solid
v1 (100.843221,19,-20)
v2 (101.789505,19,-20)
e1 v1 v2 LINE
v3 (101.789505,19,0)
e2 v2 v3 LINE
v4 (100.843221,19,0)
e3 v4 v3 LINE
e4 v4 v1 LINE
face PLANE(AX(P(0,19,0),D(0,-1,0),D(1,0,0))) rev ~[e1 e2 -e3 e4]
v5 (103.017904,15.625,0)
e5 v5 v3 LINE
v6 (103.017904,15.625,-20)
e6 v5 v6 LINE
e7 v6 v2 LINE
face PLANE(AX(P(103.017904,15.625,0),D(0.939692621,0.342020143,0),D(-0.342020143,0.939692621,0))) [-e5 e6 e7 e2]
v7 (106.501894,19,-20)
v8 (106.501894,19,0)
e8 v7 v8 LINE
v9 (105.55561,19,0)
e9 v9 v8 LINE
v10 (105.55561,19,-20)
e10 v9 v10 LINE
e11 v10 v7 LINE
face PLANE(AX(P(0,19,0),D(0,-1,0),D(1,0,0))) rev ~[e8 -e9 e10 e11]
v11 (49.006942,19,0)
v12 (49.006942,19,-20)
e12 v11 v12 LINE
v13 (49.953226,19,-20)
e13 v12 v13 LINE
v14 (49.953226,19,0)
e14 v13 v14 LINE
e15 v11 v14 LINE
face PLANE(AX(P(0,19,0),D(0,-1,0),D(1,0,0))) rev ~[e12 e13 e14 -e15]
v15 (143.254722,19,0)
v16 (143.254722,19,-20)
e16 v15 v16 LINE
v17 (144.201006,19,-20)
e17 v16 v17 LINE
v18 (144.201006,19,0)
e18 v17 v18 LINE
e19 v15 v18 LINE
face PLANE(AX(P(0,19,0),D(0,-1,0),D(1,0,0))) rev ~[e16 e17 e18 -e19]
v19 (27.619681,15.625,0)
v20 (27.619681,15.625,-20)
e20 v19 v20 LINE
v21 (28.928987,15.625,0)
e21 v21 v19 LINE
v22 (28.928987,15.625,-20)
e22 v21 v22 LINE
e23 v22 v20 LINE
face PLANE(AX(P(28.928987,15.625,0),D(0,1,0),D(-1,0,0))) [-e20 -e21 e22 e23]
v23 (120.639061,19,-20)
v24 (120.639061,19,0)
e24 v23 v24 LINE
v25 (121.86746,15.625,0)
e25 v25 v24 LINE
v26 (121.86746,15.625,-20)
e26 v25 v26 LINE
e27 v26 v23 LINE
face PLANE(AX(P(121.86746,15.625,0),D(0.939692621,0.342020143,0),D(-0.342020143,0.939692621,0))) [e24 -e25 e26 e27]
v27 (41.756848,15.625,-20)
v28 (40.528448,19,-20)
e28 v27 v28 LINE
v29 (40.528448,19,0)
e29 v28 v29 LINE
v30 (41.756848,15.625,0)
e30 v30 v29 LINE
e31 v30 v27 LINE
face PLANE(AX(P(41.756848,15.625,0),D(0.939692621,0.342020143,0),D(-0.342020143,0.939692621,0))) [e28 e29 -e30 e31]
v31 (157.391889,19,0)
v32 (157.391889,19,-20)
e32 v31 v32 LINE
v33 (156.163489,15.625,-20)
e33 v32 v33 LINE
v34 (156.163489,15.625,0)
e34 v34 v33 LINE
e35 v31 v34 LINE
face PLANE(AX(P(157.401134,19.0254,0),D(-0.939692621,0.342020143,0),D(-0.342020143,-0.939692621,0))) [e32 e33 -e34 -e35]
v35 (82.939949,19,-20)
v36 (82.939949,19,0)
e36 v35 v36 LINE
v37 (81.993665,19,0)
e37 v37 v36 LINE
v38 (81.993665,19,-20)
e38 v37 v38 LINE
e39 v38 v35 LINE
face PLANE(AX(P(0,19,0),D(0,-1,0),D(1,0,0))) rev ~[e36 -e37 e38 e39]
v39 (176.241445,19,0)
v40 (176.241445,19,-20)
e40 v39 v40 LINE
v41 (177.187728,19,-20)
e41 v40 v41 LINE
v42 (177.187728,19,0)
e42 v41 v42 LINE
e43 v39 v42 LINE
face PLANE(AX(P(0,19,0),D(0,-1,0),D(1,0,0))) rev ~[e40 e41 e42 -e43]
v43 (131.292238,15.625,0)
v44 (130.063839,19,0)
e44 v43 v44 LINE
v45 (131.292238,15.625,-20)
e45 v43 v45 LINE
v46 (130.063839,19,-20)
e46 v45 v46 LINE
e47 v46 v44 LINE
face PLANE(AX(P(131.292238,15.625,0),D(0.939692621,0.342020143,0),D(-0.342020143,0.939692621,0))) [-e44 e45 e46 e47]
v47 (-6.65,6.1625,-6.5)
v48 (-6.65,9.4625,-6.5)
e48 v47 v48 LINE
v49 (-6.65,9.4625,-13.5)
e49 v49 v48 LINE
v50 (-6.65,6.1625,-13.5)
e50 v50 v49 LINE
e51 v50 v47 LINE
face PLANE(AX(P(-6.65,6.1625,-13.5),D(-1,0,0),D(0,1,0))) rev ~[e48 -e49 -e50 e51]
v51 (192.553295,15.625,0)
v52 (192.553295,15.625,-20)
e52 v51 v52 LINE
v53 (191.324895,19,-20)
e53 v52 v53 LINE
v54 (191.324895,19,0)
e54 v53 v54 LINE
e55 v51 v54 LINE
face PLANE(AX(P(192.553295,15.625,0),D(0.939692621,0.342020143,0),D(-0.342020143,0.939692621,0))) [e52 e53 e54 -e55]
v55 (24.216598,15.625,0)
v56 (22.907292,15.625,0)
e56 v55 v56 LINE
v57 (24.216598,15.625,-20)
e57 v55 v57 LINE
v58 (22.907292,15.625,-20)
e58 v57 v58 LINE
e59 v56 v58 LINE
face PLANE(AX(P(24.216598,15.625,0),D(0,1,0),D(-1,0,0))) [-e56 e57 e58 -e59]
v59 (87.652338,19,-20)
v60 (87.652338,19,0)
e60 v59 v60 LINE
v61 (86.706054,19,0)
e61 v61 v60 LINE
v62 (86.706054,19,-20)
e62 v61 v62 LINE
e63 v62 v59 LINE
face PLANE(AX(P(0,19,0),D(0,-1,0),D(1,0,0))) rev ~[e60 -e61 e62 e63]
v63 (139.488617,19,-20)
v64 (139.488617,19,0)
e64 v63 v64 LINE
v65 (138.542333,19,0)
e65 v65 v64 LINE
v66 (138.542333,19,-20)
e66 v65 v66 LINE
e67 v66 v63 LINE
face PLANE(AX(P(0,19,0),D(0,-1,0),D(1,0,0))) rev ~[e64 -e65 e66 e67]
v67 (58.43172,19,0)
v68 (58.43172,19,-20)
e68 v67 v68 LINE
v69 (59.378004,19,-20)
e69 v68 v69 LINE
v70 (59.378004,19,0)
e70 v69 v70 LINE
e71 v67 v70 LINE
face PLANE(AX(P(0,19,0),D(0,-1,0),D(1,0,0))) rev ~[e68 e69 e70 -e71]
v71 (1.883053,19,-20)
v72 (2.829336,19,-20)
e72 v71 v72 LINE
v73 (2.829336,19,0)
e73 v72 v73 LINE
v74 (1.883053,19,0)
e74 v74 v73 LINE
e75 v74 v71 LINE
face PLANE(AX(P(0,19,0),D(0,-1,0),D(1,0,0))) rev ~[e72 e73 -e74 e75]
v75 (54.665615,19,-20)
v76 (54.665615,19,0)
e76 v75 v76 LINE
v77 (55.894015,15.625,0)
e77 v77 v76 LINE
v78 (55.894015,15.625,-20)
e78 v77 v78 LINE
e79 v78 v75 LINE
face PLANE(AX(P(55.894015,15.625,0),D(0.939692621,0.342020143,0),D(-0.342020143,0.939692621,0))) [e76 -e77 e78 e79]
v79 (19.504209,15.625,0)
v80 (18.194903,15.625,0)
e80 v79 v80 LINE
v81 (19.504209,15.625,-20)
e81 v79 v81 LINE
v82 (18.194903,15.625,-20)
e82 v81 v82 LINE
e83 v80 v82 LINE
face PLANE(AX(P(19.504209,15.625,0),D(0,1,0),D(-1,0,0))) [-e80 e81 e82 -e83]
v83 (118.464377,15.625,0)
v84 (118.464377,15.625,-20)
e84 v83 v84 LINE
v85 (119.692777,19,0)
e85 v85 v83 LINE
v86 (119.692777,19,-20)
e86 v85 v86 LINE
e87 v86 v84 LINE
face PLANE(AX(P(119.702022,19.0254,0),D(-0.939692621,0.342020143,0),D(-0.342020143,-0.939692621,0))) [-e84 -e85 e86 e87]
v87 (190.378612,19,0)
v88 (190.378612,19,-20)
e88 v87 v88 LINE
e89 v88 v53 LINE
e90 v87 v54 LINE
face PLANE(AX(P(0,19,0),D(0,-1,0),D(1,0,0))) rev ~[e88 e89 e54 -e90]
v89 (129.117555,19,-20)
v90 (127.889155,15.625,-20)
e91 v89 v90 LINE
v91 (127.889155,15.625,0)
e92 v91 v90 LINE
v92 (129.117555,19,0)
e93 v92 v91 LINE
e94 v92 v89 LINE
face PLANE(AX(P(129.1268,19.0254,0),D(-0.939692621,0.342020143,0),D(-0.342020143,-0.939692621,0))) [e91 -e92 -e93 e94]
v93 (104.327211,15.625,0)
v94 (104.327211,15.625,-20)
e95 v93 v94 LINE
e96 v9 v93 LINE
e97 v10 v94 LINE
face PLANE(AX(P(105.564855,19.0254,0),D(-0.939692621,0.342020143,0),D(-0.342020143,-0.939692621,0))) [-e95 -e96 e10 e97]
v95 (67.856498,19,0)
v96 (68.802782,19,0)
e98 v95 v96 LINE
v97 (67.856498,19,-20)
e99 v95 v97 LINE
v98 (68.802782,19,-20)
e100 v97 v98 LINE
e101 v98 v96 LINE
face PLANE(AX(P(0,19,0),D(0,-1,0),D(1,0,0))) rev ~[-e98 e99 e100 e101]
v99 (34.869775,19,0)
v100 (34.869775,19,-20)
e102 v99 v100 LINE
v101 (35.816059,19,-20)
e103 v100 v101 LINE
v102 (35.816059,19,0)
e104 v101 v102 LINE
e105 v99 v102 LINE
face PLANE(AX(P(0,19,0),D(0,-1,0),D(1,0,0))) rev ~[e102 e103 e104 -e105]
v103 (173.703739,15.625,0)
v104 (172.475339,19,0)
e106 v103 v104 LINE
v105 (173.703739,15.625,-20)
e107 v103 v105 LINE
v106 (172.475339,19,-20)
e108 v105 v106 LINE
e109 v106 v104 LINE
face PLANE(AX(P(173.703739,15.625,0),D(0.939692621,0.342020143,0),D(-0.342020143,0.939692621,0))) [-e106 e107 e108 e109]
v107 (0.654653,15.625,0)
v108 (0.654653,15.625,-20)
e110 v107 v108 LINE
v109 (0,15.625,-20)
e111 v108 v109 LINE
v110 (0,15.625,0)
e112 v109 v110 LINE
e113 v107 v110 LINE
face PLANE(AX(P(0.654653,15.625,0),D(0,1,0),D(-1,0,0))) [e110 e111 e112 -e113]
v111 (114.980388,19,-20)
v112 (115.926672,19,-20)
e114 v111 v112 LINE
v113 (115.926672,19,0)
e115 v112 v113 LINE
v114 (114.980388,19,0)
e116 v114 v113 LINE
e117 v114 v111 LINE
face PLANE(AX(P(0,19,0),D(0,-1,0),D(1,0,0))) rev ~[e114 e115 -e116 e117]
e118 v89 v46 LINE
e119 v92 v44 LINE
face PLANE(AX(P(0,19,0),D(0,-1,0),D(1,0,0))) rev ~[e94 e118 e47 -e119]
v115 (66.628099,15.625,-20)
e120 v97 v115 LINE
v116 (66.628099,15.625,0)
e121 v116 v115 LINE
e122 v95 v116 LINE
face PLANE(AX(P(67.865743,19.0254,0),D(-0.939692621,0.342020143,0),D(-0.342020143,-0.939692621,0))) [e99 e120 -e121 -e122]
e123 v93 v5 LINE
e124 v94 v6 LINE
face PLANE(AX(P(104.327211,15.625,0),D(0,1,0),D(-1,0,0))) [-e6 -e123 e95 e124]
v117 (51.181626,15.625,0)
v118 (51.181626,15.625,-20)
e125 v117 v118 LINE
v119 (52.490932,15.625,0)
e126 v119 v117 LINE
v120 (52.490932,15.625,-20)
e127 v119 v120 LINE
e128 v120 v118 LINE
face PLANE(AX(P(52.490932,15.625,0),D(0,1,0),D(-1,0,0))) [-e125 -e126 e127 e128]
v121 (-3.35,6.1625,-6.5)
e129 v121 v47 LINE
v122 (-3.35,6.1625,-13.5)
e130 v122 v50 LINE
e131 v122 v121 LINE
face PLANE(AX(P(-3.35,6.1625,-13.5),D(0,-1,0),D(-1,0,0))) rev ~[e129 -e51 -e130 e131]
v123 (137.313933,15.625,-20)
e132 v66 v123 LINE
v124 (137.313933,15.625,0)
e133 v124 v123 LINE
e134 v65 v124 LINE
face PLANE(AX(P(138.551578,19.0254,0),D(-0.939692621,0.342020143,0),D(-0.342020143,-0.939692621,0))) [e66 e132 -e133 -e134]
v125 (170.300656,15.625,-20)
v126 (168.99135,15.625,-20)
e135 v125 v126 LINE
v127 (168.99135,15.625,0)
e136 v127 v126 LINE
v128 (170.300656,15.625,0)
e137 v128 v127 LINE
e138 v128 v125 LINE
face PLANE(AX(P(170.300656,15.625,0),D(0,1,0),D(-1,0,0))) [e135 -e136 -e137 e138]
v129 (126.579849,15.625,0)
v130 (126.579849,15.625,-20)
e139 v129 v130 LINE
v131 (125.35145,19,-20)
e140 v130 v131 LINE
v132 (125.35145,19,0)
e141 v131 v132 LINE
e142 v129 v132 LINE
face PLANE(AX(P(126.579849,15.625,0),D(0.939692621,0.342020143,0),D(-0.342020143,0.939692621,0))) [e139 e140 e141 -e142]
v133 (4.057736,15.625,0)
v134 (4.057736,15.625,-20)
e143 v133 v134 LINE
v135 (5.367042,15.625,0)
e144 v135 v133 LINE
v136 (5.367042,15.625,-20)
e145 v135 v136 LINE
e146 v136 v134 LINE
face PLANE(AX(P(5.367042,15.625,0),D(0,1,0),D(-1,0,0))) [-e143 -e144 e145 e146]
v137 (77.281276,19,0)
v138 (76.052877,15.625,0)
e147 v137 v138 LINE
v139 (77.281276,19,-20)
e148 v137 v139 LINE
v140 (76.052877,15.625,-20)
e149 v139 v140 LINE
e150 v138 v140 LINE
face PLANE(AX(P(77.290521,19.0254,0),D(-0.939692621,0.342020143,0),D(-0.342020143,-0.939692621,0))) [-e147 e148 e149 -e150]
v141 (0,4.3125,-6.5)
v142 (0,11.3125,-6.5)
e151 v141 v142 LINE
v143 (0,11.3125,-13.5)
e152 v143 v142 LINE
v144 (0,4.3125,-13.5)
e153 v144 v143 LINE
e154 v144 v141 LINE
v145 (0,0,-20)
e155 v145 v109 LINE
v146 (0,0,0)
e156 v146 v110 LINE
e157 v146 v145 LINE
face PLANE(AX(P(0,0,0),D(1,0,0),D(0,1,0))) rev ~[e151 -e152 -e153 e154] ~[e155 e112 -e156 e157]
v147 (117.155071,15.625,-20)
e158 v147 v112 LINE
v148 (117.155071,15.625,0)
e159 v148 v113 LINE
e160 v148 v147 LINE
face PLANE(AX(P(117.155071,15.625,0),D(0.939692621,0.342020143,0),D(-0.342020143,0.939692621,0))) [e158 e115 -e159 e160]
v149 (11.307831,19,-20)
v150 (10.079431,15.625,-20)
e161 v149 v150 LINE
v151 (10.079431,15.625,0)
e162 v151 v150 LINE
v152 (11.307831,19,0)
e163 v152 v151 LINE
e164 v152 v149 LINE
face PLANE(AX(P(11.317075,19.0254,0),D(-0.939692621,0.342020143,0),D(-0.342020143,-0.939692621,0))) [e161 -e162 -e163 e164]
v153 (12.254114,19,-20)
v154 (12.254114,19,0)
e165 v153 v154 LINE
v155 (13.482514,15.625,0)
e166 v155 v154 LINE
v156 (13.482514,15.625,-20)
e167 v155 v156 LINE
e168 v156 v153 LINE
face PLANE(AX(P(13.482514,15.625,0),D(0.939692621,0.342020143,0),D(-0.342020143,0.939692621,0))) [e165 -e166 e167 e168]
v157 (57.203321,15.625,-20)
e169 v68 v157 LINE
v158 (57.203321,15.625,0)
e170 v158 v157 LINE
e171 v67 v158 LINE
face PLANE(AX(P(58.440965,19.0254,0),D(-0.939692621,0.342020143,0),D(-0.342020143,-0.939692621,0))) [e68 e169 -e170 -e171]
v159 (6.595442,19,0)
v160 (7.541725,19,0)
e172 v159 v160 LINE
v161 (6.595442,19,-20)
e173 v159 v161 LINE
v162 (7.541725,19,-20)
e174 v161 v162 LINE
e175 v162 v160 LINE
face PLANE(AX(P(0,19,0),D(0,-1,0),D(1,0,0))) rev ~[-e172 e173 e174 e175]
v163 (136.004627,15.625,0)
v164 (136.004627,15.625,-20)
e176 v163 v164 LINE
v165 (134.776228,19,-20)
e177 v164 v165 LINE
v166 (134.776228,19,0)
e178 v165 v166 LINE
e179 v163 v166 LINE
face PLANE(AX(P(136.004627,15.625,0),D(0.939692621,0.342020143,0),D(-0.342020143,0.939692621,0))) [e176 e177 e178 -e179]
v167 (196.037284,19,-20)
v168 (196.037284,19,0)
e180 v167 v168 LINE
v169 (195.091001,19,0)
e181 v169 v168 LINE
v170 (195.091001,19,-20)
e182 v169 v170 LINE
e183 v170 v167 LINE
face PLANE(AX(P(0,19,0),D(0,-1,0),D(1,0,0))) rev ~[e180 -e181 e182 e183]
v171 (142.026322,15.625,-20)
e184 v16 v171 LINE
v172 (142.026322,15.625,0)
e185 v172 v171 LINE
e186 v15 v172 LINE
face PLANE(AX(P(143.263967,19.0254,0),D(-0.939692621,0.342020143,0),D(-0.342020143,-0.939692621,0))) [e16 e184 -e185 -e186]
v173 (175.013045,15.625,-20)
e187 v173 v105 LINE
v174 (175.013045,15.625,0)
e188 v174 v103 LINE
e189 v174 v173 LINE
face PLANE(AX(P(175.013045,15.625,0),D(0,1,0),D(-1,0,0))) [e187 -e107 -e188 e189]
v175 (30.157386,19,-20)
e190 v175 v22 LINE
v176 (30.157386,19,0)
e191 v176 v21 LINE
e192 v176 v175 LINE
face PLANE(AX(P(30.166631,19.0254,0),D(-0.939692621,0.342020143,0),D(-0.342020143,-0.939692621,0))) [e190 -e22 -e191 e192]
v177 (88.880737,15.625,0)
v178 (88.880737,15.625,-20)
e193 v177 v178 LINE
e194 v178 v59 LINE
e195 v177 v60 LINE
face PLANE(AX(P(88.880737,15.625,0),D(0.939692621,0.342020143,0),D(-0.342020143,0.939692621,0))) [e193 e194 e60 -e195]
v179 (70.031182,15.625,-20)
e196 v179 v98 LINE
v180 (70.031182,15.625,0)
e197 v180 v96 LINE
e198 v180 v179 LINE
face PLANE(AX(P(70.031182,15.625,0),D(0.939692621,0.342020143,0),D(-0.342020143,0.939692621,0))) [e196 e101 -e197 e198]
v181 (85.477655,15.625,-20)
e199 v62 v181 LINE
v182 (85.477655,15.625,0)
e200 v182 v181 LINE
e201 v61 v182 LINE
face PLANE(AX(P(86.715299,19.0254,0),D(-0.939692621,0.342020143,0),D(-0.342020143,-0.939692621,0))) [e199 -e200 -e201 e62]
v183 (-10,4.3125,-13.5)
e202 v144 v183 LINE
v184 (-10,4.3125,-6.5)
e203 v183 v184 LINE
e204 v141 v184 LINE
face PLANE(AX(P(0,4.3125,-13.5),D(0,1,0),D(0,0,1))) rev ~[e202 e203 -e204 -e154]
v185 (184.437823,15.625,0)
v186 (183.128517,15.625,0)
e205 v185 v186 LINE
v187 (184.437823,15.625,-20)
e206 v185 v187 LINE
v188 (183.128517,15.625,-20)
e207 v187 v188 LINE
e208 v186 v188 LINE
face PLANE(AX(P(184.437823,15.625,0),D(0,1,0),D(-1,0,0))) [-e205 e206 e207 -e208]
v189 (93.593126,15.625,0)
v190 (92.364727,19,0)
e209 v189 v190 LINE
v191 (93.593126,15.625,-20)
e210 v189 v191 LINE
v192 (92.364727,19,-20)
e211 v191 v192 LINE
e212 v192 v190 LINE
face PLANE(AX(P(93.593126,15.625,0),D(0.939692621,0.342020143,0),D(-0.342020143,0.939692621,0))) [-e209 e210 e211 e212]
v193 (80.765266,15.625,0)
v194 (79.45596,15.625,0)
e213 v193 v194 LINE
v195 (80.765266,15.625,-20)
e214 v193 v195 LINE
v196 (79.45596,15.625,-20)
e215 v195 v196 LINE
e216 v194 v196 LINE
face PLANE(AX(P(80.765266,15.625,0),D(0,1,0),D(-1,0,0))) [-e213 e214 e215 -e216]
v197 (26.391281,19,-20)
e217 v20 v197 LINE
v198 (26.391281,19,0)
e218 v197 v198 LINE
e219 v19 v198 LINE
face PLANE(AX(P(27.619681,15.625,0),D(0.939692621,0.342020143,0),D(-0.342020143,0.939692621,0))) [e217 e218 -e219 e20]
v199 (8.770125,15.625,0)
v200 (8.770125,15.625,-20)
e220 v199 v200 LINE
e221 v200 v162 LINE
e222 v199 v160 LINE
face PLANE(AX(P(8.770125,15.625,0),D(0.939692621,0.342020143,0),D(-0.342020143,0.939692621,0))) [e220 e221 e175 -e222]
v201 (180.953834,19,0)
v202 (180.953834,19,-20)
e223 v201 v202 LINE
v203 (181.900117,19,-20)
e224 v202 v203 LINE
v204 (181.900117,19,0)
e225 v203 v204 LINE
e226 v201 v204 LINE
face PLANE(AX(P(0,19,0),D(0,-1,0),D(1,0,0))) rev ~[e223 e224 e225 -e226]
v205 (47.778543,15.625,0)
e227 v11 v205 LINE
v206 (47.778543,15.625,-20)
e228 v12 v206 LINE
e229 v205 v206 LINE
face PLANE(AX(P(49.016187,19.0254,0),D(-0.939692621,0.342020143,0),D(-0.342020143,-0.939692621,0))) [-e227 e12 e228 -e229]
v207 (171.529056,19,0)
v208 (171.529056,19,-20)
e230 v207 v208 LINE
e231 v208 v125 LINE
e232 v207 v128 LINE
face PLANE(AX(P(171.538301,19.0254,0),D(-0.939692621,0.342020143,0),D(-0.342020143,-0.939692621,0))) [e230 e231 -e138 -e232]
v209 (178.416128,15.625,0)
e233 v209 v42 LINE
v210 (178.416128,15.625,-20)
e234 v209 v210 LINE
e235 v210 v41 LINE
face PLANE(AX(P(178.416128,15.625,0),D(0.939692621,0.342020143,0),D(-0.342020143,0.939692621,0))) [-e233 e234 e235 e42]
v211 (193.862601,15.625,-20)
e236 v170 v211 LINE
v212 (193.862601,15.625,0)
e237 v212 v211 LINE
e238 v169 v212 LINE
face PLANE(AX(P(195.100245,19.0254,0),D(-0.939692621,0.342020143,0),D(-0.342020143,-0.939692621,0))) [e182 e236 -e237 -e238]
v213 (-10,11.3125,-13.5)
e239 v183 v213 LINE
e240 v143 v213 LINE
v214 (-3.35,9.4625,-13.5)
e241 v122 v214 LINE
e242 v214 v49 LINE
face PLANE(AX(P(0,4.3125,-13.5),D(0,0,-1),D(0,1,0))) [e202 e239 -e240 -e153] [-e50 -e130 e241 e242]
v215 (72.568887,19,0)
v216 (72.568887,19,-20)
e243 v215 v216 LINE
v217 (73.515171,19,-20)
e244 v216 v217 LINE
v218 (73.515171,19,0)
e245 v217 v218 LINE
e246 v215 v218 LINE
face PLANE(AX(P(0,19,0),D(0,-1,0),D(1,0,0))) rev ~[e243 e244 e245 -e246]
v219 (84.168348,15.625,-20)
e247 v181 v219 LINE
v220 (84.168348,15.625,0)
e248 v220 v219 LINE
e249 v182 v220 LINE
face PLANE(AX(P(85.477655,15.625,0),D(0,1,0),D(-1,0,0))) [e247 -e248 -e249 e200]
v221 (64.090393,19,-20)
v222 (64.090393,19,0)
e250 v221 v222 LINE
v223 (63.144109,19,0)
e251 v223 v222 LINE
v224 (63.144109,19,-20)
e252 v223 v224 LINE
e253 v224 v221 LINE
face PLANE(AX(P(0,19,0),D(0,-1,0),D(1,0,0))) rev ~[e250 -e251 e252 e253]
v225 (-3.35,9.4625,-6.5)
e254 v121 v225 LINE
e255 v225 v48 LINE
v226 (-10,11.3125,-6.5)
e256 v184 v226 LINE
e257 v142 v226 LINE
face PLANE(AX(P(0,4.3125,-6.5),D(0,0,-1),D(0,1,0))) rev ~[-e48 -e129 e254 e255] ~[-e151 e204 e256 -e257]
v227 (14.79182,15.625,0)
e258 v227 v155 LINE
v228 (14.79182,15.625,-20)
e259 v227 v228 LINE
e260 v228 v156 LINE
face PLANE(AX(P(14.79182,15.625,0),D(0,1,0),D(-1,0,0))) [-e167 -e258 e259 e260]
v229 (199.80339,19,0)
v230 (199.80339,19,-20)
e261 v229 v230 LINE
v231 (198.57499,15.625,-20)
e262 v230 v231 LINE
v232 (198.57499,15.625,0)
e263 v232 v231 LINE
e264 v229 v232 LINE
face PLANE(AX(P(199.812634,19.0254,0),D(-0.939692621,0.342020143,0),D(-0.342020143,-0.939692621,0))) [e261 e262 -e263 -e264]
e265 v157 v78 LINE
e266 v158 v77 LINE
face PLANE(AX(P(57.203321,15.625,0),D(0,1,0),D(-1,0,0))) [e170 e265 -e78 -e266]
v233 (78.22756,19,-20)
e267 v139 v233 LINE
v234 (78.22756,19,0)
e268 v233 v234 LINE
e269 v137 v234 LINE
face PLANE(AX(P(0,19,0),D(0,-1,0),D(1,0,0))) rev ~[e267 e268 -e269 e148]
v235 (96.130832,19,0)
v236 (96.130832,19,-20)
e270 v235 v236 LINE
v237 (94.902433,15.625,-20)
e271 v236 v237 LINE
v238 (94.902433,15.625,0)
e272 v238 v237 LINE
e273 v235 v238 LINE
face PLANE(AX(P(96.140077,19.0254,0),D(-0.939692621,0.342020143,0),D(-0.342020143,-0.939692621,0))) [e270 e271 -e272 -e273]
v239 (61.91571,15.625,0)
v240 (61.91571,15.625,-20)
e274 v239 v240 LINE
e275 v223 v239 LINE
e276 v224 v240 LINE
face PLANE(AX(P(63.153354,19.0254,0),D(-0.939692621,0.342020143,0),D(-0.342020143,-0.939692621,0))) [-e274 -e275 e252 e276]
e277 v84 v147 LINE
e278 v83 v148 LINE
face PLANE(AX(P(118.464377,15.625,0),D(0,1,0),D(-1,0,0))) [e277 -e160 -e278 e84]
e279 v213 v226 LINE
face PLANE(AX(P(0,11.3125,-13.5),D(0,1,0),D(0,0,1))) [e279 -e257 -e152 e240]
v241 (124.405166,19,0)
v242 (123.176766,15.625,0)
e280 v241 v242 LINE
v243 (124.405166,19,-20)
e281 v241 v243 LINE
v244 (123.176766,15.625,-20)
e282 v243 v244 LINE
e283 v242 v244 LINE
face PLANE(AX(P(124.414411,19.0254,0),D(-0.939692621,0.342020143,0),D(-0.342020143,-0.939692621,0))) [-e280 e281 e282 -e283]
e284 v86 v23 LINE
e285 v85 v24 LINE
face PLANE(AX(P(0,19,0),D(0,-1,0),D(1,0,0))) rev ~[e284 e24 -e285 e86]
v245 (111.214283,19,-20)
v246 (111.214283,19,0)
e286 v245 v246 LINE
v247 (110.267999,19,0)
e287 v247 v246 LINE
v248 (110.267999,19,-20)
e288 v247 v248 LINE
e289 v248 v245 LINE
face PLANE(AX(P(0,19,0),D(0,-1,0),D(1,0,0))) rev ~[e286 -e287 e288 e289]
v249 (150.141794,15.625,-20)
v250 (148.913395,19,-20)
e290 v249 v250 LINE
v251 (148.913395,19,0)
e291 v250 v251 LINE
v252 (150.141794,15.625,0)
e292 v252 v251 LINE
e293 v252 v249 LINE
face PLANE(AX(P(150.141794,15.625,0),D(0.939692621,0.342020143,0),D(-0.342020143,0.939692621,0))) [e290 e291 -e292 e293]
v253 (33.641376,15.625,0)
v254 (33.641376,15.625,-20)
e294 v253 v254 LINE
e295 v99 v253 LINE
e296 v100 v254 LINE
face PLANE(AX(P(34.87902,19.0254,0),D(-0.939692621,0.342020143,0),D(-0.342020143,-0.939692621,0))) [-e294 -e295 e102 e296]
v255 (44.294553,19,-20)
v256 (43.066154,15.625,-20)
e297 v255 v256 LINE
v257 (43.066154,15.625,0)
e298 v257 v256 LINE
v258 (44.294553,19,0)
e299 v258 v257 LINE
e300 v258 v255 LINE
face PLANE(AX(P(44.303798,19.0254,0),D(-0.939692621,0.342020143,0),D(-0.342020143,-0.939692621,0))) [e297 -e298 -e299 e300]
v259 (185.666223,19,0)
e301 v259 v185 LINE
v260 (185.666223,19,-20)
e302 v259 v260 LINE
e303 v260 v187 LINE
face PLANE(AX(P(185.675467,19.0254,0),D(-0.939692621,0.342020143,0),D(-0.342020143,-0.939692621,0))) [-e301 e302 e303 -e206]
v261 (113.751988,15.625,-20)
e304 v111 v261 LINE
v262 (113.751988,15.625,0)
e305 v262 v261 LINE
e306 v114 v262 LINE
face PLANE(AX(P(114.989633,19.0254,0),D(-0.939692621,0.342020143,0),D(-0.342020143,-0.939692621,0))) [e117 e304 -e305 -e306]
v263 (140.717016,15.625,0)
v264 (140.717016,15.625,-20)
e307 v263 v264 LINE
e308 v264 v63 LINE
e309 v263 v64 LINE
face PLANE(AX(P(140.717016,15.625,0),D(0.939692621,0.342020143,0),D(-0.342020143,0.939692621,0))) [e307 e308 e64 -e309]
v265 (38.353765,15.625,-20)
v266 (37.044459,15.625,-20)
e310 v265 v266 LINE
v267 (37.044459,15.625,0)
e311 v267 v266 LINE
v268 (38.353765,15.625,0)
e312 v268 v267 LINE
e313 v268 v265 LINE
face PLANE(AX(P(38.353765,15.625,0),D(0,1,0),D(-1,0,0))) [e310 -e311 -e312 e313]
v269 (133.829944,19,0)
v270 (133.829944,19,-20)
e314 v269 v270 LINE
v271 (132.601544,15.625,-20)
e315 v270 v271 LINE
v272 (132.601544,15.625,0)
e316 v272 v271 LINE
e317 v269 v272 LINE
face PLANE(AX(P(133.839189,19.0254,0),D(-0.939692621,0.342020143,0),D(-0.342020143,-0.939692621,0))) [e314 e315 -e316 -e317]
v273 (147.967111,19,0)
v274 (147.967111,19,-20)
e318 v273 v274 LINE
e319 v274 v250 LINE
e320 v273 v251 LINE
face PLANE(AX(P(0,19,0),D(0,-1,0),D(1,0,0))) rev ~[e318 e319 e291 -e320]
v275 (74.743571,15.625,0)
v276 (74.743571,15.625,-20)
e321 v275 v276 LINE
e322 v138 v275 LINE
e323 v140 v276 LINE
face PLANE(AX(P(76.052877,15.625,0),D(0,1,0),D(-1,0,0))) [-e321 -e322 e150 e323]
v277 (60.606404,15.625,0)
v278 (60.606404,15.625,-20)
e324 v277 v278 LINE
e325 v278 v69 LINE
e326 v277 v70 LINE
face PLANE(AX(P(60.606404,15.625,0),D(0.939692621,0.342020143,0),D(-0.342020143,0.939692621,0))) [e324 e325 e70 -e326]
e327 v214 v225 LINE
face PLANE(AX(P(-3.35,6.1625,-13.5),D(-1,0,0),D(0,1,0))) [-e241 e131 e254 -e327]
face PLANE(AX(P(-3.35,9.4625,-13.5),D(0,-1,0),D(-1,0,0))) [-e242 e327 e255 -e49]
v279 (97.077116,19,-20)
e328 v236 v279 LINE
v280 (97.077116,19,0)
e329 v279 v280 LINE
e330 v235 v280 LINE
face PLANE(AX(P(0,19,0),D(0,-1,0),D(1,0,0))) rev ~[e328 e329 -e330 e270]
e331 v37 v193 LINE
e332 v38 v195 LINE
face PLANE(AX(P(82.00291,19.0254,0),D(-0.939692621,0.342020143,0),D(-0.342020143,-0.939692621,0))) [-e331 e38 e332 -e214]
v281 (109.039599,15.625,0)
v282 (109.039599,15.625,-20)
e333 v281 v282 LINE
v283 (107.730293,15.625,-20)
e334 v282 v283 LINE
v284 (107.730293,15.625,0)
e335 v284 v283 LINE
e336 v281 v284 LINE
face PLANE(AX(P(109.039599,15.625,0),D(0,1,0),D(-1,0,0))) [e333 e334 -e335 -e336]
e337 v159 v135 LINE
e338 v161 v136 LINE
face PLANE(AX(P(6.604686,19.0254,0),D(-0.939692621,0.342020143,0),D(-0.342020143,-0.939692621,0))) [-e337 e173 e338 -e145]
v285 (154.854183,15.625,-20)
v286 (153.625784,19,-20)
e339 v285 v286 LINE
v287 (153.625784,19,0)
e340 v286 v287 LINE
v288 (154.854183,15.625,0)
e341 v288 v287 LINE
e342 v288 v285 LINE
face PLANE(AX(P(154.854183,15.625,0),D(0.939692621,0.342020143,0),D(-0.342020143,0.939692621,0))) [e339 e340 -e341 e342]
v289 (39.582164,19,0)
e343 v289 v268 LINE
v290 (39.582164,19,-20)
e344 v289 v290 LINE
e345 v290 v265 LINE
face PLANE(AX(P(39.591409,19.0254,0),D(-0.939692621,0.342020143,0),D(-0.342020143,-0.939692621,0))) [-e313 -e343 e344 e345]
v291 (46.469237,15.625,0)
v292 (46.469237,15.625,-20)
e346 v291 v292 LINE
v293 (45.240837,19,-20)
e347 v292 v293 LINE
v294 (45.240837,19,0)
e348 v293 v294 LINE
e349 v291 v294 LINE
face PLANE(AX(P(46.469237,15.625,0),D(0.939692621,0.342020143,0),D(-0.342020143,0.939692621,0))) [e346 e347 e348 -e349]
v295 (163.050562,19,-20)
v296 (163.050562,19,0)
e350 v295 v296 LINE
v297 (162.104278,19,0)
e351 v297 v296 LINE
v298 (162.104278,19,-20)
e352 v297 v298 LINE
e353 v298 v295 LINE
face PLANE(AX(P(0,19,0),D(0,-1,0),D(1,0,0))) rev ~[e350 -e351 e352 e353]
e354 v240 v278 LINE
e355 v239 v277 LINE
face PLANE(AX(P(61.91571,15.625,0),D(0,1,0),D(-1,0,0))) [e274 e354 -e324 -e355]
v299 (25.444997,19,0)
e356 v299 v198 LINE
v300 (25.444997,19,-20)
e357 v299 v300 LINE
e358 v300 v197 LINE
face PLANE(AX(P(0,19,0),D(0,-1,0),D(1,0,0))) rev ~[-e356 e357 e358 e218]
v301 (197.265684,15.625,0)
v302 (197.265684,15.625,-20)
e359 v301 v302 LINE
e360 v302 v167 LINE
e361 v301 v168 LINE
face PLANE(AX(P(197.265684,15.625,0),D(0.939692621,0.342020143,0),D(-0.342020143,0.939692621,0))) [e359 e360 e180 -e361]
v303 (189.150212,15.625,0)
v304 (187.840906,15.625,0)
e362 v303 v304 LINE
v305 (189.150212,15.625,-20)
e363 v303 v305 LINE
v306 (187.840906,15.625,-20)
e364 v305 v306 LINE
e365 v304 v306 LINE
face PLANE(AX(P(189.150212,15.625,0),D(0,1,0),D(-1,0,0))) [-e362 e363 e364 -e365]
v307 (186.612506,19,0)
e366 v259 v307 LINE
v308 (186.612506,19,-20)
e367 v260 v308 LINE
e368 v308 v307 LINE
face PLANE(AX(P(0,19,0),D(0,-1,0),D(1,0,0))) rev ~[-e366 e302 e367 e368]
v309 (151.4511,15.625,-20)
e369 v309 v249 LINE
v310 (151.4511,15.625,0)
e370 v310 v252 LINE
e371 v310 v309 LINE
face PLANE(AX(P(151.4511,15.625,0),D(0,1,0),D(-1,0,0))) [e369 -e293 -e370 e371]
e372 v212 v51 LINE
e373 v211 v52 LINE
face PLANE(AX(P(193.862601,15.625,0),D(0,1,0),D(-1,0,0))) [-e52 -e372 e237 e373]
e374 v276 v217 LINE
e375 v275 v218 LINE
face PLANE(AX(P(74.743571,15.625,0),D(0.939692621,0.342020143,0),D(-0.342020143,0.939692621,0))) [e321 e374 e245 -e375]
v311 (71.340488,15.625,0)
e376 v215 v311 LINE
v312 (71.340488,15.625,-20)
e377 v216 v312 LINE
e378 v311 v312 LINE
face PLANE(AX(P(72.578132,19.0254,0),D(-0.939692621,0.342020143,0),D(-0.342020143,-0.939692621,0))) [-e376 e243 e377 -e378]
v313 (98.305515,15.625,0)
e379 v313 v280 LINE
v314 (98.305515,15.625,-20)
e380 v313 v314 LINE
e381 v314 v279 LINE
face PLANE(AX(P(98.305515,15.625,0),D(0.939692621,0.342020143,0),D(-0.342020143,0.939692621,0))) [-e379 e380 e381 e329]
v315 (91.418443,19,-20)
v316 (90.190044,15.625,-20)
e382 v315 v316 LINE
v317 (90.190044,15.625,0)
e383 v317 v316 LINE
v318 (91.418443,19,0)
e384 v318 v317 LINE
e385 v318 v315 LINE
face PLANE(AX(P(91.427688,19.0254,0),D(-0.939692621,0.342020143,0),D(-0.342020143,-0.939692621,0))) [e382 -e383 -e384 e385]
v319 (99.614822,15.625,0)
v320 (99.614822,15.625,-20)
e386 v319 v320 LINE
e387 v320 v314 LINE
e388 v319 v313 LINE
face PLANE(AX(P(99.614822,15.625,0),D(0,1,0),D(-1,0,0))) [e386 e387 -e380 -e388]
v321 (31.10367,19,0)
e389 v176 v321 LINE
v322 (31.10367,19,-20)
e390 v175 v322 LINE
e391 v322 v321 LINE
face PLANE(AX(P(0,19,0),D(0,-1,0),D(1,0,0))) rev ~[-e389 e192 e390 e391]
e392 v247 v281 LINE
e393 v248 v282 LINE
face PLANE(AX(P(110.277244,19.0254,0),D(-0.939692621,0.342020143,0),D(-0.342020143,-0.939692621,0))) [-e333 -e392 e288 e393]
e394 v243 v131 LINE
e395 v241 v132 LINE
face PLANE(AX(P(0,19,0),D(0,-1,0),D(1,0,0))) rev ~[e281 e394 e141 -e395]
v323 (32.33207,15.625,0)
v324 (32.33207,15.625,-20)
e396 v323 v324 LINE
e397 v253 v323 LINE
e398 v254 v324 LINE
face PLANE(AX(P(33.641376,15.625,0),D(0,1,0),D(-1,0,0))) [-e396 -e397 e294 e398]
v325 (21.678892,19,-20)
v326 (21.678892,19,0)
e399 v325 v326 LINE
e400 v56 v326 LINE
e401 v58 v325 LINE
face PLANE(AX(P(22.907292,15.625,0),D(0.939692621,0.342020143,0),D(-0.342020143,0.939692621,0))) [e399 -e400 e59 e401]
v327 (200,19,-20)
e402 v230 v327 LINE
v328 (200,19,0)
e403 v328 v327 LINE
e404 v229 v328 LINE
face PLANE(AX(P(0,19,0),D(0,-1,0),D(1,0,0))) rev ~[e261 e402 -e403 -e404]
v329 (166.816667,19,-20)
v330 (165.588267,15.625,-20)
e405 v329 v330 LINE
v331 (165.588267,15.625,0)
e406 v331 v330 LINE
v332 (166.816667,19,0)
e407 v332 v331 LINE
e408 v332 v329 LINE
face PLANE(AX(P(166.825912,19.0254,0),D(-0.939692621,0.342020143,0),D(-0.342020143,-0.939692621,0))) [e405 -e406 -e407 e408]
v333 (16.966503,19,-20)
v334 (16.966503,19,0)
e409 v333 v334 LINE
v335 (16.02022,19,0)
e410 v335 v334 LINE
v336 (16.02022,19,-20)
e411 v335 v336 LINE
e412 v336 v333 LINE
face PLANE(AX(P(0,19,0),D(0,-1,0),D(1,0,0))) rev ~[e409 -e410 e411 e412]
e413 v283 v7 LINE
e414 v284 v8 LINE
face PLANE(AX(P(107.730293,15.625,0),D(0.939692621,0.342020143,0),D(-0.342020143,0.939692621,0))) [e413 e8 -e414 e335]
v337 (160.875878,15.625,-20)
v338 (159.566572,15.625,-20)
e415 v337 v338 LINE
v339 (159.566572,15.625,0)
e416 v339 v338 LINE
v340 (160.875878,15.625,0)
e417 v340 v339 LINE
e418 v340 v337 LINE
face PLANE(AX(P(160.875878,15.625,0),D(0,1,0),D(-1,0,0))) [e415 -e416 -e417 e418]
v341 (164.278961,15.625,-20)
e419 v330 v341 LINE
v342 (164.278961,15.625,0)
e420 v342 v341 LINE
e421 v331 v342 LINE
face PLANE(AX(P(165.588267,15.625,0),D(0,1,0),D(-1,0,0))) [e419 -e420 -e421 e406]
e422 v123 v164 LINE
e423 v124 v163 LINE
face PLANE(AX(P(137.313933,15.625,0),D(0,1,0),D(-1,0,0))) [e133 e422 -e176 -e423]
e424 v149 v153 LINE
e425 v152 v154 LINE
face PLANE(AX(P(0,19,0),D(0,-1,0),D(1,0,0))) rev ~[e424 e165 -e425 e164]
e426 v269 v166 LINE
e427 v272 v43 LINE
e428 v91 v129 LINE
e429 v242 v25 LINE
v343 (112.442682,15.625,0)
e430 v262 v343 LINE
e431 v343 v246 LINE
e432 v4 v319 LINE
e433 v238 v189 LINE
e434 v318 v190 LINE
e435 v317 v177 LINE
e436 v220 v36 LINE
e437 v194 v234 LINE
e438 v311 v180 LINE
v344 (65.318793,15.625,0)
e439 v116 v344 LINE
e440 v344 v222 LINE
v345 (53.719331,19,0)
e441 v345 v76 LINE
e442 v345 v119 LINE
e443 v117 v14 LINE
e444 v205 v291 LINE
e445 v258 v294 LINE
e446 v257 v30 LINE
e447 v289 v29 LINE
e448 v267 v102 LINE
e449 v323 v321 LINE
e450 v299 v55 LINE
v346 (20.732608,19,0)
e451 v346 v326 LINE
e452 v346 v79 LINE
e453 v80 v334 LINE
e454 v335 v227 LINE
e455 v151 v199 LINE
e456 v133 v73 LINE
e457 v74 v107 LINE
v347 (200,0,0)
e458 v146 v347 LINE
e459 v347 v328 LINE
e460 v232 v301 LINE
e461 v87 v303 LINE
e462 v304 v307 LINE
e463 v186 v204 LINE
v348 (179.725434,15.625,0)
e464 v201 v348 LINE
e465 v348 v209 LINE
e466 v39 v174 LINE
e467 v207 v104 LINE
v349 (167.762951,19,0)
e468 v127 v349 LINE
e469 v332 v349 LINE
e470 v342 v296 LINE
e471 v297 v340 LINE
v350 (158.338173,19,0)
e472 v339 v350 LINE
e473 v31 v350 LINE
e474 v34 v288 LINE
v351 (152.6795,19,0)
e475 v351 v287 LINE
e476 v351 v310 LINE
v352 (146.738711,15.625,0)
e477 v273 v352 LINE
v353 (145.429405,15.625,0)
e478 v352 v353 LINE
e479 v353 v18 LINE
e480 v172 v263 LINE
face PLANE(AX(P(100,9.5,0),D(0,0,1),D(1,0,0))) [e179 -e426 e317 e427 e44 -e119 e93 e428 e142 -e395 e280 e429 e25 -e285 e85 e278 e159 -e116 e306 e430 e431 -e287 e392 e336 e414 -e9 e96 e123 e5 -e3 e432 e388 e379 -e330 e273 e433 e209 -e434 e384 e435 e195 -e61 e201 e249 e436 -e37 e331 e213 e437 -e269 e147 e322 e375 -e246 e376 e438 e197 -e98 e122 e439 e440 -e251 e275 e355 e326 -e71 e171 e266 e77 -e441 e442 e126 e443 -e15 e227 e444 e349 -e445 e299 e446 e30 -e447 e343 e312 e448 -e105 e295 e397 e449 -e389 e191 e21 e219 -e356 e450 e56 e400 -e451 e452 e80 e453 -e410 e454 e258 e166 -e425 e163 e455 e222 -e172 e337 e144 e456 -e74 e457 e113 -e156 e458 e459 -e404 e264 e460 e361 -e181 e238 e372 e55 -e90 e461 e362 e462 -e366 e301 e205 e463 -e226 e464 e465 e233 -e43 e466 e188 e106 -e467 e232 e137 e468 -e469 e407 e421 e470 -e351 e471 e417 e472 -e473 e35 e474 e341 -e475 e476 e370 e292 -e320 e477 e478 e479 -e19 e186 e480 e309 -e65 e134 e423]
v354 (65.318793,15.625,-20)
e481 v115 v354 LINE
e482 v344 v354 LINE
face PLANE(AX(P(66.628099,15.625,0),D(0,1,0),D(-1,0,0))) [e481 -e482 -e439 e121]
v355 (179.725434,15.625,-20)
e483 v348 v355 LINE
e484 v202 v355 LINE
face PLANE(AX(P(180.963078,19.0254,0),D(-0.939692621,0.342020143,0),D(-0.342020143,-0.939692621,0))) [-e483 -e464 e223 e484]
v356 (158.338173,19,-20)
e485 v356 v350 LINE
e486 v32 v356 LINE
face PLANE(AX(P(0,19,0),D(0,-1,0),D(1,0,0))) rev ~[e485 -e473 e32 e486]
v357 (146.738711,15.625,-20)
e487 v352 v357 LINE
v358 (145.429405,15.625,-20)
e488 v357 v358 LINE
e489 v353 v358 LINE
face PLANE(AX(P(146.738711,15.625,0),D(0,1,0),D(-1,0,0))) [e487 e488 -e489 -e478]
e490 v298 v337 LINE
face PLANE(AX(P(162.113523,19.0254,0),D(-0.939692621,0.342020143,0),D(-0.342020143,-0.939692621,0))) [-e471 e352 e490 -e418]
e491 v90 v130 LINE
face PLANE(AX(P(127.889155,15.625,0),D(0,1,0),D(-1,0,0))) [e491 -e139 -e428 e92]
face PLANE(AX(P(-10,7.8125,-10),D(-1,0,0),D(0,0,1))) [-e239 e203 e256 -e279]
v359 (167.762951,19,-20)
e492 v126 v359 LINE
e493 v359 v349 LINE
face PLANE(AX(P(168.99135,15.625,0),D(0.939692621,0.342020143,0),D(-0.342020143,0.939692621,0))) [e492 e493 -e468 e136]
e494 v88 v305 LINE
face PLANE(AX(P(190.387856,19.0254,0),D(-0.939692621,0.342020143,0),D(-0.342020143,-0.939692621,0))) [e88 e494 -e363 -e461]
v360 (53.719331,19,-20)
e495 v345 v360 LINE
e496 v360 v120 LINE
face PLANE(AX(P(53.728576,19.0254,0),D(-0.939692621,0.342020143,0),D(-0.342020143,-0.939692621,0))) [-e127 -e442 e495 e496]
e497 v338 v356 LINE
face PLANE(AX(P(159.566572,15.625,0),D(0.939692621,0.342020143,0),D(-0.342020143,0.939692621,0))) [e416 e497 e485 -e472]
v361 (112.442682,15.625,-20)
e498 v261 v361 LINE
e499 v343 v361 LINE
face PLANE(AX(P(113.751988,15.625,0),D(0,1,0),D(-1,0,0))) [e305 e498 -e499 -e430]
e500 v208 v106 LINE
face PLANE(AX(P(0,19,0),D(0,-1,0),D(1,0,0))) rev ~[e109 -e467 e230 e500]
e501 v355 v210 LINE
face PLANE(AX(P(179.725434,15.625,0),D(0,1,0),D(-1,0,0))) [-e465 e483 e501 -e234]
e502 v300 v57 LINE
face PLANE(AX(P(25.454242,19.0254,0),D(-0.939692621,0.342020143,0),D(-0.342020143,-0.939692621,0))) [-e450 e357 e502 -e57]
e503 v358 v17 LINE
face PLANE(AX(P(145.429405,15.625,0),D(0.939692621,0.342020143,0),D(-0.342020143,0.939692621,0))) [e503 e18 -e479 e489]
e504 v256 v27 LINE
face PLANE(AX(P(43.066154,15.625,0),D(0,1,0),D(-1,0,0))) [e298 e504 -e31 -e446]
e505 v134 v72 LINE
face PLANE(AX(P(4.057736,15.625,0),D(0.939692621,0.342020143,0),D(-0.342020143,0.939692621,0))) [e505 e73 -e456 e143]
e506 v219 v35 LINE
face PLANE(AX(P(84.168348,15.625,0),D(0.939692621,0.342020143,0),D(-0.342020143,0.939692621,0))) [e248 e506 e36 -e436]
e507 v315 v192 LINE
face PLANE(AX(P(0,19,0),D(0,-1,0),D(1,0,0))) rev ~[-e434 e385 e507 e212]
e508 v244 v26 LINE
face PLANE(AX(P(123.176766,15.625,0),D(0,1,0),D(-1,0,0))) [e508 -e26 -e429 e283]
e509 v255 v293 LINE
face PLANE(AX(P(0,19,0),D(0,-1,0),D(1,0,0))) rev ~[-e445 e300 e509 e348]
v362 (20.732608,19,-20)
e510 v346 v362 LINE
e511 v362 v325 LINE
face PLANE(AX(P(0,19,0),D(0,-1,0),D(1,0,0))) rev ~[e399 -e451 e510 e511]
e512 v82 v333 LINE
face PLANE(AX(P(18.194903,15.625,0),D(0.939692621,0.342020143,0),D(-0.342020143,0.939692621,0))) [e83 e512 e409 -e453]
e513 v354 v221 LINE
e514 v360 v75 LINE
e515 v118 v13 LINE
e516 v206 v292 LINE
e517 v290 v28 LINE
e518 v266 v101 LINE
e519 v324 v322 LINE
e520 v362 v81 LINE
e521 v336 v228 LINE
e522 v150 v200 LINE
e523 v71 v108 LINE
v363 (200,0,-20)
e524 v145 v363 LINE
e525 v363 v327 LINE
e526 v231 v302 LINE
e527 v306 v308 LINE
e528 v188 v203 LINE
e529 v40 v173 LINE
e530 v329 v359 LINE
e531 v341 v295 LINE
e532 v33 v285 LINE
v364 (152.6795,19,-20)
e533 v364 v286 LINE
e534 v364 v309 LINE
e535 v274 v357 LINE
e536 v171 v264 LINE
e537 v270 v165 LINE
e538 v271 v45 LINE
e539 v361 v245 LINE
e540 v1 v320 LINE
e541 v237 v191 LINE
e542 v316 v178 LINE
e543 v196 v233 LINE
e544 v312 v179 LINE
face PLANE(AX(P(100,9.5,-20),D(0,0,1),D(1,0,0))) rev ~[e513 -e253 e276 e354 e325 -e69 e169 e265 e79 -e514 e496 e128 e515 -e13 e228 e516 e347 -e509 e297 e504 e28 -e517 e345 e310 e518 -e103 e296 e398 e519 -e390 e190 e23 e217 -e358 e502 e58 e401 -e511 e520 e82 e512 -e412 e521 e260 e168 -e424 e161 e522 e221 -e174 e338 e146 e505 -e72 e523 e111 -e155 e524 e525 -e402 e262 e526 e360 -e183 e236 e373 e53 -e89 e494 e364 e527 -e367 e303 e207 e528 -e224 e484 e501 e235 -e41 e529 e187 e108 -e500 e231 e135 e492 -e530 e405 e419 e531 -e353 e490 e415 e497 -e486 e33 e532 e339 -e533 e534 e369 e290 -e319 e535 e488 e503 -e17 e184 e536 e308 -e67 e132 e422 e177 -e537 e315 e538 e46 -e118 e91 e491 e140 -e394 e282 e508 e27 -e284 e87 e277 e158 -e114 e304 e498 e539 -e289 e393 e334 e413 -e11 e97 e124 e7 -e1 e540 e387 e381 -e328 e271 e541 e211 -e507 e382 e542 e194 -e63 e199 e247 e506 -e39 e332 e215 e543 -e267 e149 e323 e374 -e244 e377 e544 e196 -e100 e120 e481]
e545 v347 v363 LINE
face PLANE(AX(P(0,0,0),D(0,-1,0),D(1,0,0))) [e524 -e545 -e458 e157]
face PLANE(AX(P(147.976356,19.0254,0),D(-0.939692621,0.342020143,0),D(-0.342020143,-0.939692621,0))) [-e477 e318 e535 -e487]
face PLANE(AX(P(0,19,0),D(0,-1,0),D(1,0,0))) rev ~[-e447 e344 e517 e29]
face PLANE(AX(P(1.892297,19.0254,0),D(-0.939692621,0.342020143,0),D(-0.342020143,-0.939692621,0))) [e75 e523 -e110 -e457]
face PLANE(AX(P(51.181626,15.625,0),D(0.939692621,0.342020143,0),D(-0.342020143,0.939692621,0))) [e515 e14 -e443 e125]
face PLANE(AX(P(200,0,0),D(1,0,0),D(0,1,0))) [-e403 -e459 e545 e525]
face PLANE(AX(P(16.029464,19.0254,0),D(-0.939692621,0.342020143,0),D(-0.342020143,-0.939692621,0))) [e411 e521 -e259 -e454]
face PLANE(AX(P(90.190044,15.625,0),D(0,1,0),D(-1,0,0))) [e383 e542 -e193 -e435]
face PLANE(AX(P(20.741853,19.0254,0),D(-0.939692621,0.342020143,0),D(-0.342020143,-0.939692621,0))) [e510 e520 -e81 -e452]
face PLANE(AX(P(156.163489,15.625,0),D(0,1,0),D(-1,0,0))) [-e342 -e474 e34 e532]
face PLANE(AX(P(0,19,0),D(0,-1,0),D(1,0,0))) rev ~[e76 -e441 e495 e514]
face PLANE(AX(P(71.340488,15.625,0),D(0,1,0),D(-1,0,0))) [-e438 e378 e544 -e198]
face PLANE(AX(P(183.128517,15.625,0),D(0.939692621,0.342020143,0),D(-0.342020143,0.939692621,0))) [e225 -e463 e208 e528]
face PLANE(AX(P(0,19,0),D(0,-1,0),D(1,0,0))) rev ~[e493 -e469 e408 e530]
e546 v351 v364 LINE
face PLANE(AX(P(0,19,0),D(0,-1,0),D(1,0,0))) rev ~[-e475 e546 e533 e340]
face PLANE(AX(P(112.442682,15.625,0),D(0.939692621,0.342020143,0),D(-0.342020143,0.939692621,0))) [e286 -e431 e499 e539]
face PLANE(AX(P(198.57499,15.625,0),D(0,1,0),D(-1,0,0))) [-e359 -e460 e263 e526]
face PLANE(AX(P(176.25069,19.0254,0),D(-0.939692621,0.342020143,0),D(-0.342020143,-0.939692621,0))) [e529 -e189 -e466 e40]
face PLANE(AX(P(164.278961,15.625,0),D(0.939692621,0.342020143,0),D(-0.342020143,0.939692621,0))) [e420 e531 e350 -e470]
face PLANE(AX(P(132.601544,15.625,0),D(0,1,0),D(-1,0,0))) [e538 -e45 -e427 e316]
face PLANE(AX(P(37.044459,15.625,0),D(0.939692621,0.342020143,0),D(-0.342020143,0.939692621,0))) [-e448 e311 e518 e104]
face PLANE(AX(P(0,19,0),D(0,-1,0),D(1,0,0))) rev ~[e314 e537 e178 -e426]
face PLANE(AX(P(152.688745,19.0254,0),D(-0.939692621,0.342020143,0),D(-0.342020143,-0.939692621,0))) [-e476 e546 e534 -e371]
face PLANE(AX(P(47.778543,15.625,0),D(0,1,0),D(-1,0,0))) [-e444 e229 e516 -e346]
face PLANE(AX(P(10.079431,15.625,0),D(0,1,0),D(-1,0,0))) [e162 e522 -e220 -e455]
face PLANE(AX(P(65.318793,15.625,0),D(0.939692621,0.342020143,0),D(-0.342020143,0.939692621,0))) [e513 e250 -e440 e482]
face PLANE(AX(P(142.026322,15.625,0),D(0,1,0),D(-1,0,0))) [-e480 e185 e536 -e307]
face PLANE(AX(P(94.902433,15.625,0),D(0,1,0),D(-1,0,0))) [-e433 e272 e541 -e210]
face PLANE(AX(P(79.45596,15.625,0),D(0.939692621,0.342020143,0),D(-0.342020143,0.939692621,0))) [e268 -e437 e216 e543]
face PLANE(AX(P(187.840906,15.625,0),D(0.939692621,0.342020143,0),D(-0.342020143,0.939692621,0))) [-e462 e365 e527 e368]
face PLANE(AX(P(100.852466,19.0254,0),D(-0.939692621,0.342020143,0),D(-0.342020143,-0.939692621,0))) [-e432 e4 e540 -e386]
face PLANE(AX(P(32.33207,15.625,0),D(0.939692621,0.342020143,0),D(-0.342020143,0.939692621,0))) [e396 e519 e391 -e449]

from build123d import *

# Parameters (mm, degrees)
BLANKSKE_W          = 200
BLANKSKE_H          = 19
BLANK_DEPTH         = 20
TOOTHCUTSIM_DEPTH   = 202.893536301
TEETHCUTS_COUNT     = 43
TEETHCUTS_PITCH     = 4.712388975
SKETCH3_W           = 7
SKETCH3_H           = 7
BOSS_EXTRUDE2_DEPTH = 10
SKETCH4_W           = 3.3
SKETCH4_H           = 3.3
CUT_EXTRUDE1_DEPTH  = 25


with BuildPart() as part:
    # BlankSke → Blank (new body)
    with BuildSketch(Plane.XY):
        with Locations((100, 9.5)):
            Rectangle(BLANKSKE_W, BLANKSKE_H)
    extrude(amount=-BLANK_DEPTH)

    # TooCutSkeSim → ToothCutSim (cut, through all)
    with BuildSketch(Plane.XY):
        Polygon((0.654653055, 15.625), (-0.654653055, 15.625), (-1.892297439, 19.0254), (1.892297439, 19.0254), align=None)
    toothcutsim = extrude(amount=-TOOTHCUTSIM_DEPTH, mode=Mode.SUBTRACT)

    # TeethCuts: ToothCutSim ×43
    with Locations(*[(i * TEETHCUTS_PITCH, 0, 0) for i in range(1, TEETHCUTS_COUNT)]):
        add(toothcutsim, mode=Mode.SUBTRACT)

    # Sketch3 → Boss-Extrude2 (add)
    with BuildSketch(Plane.ZY):
        with Locations((-10, 7.8125)):
            Rectangle(SKETCH3_W, SKETCH3_H)
    extrude(amount=BOSS_EXTRUDE2_DEPTH)

    # Sketch4 → Cut-Extrude1 (cut)
    with BuildSketch(Plane(origin=(0, 0, -13.5), x_dir=(-1, 0, 0), z_dir=(0, 0, -1))):
        with Locations((5, 7.8125)):
            Rectangle(SKETCH4_W, SKETCH4_H)
    extrude(amount=-CUT_EXTRUDE1_DEPTH, mode=Mode.SUBTRACT)


solid = part.part
